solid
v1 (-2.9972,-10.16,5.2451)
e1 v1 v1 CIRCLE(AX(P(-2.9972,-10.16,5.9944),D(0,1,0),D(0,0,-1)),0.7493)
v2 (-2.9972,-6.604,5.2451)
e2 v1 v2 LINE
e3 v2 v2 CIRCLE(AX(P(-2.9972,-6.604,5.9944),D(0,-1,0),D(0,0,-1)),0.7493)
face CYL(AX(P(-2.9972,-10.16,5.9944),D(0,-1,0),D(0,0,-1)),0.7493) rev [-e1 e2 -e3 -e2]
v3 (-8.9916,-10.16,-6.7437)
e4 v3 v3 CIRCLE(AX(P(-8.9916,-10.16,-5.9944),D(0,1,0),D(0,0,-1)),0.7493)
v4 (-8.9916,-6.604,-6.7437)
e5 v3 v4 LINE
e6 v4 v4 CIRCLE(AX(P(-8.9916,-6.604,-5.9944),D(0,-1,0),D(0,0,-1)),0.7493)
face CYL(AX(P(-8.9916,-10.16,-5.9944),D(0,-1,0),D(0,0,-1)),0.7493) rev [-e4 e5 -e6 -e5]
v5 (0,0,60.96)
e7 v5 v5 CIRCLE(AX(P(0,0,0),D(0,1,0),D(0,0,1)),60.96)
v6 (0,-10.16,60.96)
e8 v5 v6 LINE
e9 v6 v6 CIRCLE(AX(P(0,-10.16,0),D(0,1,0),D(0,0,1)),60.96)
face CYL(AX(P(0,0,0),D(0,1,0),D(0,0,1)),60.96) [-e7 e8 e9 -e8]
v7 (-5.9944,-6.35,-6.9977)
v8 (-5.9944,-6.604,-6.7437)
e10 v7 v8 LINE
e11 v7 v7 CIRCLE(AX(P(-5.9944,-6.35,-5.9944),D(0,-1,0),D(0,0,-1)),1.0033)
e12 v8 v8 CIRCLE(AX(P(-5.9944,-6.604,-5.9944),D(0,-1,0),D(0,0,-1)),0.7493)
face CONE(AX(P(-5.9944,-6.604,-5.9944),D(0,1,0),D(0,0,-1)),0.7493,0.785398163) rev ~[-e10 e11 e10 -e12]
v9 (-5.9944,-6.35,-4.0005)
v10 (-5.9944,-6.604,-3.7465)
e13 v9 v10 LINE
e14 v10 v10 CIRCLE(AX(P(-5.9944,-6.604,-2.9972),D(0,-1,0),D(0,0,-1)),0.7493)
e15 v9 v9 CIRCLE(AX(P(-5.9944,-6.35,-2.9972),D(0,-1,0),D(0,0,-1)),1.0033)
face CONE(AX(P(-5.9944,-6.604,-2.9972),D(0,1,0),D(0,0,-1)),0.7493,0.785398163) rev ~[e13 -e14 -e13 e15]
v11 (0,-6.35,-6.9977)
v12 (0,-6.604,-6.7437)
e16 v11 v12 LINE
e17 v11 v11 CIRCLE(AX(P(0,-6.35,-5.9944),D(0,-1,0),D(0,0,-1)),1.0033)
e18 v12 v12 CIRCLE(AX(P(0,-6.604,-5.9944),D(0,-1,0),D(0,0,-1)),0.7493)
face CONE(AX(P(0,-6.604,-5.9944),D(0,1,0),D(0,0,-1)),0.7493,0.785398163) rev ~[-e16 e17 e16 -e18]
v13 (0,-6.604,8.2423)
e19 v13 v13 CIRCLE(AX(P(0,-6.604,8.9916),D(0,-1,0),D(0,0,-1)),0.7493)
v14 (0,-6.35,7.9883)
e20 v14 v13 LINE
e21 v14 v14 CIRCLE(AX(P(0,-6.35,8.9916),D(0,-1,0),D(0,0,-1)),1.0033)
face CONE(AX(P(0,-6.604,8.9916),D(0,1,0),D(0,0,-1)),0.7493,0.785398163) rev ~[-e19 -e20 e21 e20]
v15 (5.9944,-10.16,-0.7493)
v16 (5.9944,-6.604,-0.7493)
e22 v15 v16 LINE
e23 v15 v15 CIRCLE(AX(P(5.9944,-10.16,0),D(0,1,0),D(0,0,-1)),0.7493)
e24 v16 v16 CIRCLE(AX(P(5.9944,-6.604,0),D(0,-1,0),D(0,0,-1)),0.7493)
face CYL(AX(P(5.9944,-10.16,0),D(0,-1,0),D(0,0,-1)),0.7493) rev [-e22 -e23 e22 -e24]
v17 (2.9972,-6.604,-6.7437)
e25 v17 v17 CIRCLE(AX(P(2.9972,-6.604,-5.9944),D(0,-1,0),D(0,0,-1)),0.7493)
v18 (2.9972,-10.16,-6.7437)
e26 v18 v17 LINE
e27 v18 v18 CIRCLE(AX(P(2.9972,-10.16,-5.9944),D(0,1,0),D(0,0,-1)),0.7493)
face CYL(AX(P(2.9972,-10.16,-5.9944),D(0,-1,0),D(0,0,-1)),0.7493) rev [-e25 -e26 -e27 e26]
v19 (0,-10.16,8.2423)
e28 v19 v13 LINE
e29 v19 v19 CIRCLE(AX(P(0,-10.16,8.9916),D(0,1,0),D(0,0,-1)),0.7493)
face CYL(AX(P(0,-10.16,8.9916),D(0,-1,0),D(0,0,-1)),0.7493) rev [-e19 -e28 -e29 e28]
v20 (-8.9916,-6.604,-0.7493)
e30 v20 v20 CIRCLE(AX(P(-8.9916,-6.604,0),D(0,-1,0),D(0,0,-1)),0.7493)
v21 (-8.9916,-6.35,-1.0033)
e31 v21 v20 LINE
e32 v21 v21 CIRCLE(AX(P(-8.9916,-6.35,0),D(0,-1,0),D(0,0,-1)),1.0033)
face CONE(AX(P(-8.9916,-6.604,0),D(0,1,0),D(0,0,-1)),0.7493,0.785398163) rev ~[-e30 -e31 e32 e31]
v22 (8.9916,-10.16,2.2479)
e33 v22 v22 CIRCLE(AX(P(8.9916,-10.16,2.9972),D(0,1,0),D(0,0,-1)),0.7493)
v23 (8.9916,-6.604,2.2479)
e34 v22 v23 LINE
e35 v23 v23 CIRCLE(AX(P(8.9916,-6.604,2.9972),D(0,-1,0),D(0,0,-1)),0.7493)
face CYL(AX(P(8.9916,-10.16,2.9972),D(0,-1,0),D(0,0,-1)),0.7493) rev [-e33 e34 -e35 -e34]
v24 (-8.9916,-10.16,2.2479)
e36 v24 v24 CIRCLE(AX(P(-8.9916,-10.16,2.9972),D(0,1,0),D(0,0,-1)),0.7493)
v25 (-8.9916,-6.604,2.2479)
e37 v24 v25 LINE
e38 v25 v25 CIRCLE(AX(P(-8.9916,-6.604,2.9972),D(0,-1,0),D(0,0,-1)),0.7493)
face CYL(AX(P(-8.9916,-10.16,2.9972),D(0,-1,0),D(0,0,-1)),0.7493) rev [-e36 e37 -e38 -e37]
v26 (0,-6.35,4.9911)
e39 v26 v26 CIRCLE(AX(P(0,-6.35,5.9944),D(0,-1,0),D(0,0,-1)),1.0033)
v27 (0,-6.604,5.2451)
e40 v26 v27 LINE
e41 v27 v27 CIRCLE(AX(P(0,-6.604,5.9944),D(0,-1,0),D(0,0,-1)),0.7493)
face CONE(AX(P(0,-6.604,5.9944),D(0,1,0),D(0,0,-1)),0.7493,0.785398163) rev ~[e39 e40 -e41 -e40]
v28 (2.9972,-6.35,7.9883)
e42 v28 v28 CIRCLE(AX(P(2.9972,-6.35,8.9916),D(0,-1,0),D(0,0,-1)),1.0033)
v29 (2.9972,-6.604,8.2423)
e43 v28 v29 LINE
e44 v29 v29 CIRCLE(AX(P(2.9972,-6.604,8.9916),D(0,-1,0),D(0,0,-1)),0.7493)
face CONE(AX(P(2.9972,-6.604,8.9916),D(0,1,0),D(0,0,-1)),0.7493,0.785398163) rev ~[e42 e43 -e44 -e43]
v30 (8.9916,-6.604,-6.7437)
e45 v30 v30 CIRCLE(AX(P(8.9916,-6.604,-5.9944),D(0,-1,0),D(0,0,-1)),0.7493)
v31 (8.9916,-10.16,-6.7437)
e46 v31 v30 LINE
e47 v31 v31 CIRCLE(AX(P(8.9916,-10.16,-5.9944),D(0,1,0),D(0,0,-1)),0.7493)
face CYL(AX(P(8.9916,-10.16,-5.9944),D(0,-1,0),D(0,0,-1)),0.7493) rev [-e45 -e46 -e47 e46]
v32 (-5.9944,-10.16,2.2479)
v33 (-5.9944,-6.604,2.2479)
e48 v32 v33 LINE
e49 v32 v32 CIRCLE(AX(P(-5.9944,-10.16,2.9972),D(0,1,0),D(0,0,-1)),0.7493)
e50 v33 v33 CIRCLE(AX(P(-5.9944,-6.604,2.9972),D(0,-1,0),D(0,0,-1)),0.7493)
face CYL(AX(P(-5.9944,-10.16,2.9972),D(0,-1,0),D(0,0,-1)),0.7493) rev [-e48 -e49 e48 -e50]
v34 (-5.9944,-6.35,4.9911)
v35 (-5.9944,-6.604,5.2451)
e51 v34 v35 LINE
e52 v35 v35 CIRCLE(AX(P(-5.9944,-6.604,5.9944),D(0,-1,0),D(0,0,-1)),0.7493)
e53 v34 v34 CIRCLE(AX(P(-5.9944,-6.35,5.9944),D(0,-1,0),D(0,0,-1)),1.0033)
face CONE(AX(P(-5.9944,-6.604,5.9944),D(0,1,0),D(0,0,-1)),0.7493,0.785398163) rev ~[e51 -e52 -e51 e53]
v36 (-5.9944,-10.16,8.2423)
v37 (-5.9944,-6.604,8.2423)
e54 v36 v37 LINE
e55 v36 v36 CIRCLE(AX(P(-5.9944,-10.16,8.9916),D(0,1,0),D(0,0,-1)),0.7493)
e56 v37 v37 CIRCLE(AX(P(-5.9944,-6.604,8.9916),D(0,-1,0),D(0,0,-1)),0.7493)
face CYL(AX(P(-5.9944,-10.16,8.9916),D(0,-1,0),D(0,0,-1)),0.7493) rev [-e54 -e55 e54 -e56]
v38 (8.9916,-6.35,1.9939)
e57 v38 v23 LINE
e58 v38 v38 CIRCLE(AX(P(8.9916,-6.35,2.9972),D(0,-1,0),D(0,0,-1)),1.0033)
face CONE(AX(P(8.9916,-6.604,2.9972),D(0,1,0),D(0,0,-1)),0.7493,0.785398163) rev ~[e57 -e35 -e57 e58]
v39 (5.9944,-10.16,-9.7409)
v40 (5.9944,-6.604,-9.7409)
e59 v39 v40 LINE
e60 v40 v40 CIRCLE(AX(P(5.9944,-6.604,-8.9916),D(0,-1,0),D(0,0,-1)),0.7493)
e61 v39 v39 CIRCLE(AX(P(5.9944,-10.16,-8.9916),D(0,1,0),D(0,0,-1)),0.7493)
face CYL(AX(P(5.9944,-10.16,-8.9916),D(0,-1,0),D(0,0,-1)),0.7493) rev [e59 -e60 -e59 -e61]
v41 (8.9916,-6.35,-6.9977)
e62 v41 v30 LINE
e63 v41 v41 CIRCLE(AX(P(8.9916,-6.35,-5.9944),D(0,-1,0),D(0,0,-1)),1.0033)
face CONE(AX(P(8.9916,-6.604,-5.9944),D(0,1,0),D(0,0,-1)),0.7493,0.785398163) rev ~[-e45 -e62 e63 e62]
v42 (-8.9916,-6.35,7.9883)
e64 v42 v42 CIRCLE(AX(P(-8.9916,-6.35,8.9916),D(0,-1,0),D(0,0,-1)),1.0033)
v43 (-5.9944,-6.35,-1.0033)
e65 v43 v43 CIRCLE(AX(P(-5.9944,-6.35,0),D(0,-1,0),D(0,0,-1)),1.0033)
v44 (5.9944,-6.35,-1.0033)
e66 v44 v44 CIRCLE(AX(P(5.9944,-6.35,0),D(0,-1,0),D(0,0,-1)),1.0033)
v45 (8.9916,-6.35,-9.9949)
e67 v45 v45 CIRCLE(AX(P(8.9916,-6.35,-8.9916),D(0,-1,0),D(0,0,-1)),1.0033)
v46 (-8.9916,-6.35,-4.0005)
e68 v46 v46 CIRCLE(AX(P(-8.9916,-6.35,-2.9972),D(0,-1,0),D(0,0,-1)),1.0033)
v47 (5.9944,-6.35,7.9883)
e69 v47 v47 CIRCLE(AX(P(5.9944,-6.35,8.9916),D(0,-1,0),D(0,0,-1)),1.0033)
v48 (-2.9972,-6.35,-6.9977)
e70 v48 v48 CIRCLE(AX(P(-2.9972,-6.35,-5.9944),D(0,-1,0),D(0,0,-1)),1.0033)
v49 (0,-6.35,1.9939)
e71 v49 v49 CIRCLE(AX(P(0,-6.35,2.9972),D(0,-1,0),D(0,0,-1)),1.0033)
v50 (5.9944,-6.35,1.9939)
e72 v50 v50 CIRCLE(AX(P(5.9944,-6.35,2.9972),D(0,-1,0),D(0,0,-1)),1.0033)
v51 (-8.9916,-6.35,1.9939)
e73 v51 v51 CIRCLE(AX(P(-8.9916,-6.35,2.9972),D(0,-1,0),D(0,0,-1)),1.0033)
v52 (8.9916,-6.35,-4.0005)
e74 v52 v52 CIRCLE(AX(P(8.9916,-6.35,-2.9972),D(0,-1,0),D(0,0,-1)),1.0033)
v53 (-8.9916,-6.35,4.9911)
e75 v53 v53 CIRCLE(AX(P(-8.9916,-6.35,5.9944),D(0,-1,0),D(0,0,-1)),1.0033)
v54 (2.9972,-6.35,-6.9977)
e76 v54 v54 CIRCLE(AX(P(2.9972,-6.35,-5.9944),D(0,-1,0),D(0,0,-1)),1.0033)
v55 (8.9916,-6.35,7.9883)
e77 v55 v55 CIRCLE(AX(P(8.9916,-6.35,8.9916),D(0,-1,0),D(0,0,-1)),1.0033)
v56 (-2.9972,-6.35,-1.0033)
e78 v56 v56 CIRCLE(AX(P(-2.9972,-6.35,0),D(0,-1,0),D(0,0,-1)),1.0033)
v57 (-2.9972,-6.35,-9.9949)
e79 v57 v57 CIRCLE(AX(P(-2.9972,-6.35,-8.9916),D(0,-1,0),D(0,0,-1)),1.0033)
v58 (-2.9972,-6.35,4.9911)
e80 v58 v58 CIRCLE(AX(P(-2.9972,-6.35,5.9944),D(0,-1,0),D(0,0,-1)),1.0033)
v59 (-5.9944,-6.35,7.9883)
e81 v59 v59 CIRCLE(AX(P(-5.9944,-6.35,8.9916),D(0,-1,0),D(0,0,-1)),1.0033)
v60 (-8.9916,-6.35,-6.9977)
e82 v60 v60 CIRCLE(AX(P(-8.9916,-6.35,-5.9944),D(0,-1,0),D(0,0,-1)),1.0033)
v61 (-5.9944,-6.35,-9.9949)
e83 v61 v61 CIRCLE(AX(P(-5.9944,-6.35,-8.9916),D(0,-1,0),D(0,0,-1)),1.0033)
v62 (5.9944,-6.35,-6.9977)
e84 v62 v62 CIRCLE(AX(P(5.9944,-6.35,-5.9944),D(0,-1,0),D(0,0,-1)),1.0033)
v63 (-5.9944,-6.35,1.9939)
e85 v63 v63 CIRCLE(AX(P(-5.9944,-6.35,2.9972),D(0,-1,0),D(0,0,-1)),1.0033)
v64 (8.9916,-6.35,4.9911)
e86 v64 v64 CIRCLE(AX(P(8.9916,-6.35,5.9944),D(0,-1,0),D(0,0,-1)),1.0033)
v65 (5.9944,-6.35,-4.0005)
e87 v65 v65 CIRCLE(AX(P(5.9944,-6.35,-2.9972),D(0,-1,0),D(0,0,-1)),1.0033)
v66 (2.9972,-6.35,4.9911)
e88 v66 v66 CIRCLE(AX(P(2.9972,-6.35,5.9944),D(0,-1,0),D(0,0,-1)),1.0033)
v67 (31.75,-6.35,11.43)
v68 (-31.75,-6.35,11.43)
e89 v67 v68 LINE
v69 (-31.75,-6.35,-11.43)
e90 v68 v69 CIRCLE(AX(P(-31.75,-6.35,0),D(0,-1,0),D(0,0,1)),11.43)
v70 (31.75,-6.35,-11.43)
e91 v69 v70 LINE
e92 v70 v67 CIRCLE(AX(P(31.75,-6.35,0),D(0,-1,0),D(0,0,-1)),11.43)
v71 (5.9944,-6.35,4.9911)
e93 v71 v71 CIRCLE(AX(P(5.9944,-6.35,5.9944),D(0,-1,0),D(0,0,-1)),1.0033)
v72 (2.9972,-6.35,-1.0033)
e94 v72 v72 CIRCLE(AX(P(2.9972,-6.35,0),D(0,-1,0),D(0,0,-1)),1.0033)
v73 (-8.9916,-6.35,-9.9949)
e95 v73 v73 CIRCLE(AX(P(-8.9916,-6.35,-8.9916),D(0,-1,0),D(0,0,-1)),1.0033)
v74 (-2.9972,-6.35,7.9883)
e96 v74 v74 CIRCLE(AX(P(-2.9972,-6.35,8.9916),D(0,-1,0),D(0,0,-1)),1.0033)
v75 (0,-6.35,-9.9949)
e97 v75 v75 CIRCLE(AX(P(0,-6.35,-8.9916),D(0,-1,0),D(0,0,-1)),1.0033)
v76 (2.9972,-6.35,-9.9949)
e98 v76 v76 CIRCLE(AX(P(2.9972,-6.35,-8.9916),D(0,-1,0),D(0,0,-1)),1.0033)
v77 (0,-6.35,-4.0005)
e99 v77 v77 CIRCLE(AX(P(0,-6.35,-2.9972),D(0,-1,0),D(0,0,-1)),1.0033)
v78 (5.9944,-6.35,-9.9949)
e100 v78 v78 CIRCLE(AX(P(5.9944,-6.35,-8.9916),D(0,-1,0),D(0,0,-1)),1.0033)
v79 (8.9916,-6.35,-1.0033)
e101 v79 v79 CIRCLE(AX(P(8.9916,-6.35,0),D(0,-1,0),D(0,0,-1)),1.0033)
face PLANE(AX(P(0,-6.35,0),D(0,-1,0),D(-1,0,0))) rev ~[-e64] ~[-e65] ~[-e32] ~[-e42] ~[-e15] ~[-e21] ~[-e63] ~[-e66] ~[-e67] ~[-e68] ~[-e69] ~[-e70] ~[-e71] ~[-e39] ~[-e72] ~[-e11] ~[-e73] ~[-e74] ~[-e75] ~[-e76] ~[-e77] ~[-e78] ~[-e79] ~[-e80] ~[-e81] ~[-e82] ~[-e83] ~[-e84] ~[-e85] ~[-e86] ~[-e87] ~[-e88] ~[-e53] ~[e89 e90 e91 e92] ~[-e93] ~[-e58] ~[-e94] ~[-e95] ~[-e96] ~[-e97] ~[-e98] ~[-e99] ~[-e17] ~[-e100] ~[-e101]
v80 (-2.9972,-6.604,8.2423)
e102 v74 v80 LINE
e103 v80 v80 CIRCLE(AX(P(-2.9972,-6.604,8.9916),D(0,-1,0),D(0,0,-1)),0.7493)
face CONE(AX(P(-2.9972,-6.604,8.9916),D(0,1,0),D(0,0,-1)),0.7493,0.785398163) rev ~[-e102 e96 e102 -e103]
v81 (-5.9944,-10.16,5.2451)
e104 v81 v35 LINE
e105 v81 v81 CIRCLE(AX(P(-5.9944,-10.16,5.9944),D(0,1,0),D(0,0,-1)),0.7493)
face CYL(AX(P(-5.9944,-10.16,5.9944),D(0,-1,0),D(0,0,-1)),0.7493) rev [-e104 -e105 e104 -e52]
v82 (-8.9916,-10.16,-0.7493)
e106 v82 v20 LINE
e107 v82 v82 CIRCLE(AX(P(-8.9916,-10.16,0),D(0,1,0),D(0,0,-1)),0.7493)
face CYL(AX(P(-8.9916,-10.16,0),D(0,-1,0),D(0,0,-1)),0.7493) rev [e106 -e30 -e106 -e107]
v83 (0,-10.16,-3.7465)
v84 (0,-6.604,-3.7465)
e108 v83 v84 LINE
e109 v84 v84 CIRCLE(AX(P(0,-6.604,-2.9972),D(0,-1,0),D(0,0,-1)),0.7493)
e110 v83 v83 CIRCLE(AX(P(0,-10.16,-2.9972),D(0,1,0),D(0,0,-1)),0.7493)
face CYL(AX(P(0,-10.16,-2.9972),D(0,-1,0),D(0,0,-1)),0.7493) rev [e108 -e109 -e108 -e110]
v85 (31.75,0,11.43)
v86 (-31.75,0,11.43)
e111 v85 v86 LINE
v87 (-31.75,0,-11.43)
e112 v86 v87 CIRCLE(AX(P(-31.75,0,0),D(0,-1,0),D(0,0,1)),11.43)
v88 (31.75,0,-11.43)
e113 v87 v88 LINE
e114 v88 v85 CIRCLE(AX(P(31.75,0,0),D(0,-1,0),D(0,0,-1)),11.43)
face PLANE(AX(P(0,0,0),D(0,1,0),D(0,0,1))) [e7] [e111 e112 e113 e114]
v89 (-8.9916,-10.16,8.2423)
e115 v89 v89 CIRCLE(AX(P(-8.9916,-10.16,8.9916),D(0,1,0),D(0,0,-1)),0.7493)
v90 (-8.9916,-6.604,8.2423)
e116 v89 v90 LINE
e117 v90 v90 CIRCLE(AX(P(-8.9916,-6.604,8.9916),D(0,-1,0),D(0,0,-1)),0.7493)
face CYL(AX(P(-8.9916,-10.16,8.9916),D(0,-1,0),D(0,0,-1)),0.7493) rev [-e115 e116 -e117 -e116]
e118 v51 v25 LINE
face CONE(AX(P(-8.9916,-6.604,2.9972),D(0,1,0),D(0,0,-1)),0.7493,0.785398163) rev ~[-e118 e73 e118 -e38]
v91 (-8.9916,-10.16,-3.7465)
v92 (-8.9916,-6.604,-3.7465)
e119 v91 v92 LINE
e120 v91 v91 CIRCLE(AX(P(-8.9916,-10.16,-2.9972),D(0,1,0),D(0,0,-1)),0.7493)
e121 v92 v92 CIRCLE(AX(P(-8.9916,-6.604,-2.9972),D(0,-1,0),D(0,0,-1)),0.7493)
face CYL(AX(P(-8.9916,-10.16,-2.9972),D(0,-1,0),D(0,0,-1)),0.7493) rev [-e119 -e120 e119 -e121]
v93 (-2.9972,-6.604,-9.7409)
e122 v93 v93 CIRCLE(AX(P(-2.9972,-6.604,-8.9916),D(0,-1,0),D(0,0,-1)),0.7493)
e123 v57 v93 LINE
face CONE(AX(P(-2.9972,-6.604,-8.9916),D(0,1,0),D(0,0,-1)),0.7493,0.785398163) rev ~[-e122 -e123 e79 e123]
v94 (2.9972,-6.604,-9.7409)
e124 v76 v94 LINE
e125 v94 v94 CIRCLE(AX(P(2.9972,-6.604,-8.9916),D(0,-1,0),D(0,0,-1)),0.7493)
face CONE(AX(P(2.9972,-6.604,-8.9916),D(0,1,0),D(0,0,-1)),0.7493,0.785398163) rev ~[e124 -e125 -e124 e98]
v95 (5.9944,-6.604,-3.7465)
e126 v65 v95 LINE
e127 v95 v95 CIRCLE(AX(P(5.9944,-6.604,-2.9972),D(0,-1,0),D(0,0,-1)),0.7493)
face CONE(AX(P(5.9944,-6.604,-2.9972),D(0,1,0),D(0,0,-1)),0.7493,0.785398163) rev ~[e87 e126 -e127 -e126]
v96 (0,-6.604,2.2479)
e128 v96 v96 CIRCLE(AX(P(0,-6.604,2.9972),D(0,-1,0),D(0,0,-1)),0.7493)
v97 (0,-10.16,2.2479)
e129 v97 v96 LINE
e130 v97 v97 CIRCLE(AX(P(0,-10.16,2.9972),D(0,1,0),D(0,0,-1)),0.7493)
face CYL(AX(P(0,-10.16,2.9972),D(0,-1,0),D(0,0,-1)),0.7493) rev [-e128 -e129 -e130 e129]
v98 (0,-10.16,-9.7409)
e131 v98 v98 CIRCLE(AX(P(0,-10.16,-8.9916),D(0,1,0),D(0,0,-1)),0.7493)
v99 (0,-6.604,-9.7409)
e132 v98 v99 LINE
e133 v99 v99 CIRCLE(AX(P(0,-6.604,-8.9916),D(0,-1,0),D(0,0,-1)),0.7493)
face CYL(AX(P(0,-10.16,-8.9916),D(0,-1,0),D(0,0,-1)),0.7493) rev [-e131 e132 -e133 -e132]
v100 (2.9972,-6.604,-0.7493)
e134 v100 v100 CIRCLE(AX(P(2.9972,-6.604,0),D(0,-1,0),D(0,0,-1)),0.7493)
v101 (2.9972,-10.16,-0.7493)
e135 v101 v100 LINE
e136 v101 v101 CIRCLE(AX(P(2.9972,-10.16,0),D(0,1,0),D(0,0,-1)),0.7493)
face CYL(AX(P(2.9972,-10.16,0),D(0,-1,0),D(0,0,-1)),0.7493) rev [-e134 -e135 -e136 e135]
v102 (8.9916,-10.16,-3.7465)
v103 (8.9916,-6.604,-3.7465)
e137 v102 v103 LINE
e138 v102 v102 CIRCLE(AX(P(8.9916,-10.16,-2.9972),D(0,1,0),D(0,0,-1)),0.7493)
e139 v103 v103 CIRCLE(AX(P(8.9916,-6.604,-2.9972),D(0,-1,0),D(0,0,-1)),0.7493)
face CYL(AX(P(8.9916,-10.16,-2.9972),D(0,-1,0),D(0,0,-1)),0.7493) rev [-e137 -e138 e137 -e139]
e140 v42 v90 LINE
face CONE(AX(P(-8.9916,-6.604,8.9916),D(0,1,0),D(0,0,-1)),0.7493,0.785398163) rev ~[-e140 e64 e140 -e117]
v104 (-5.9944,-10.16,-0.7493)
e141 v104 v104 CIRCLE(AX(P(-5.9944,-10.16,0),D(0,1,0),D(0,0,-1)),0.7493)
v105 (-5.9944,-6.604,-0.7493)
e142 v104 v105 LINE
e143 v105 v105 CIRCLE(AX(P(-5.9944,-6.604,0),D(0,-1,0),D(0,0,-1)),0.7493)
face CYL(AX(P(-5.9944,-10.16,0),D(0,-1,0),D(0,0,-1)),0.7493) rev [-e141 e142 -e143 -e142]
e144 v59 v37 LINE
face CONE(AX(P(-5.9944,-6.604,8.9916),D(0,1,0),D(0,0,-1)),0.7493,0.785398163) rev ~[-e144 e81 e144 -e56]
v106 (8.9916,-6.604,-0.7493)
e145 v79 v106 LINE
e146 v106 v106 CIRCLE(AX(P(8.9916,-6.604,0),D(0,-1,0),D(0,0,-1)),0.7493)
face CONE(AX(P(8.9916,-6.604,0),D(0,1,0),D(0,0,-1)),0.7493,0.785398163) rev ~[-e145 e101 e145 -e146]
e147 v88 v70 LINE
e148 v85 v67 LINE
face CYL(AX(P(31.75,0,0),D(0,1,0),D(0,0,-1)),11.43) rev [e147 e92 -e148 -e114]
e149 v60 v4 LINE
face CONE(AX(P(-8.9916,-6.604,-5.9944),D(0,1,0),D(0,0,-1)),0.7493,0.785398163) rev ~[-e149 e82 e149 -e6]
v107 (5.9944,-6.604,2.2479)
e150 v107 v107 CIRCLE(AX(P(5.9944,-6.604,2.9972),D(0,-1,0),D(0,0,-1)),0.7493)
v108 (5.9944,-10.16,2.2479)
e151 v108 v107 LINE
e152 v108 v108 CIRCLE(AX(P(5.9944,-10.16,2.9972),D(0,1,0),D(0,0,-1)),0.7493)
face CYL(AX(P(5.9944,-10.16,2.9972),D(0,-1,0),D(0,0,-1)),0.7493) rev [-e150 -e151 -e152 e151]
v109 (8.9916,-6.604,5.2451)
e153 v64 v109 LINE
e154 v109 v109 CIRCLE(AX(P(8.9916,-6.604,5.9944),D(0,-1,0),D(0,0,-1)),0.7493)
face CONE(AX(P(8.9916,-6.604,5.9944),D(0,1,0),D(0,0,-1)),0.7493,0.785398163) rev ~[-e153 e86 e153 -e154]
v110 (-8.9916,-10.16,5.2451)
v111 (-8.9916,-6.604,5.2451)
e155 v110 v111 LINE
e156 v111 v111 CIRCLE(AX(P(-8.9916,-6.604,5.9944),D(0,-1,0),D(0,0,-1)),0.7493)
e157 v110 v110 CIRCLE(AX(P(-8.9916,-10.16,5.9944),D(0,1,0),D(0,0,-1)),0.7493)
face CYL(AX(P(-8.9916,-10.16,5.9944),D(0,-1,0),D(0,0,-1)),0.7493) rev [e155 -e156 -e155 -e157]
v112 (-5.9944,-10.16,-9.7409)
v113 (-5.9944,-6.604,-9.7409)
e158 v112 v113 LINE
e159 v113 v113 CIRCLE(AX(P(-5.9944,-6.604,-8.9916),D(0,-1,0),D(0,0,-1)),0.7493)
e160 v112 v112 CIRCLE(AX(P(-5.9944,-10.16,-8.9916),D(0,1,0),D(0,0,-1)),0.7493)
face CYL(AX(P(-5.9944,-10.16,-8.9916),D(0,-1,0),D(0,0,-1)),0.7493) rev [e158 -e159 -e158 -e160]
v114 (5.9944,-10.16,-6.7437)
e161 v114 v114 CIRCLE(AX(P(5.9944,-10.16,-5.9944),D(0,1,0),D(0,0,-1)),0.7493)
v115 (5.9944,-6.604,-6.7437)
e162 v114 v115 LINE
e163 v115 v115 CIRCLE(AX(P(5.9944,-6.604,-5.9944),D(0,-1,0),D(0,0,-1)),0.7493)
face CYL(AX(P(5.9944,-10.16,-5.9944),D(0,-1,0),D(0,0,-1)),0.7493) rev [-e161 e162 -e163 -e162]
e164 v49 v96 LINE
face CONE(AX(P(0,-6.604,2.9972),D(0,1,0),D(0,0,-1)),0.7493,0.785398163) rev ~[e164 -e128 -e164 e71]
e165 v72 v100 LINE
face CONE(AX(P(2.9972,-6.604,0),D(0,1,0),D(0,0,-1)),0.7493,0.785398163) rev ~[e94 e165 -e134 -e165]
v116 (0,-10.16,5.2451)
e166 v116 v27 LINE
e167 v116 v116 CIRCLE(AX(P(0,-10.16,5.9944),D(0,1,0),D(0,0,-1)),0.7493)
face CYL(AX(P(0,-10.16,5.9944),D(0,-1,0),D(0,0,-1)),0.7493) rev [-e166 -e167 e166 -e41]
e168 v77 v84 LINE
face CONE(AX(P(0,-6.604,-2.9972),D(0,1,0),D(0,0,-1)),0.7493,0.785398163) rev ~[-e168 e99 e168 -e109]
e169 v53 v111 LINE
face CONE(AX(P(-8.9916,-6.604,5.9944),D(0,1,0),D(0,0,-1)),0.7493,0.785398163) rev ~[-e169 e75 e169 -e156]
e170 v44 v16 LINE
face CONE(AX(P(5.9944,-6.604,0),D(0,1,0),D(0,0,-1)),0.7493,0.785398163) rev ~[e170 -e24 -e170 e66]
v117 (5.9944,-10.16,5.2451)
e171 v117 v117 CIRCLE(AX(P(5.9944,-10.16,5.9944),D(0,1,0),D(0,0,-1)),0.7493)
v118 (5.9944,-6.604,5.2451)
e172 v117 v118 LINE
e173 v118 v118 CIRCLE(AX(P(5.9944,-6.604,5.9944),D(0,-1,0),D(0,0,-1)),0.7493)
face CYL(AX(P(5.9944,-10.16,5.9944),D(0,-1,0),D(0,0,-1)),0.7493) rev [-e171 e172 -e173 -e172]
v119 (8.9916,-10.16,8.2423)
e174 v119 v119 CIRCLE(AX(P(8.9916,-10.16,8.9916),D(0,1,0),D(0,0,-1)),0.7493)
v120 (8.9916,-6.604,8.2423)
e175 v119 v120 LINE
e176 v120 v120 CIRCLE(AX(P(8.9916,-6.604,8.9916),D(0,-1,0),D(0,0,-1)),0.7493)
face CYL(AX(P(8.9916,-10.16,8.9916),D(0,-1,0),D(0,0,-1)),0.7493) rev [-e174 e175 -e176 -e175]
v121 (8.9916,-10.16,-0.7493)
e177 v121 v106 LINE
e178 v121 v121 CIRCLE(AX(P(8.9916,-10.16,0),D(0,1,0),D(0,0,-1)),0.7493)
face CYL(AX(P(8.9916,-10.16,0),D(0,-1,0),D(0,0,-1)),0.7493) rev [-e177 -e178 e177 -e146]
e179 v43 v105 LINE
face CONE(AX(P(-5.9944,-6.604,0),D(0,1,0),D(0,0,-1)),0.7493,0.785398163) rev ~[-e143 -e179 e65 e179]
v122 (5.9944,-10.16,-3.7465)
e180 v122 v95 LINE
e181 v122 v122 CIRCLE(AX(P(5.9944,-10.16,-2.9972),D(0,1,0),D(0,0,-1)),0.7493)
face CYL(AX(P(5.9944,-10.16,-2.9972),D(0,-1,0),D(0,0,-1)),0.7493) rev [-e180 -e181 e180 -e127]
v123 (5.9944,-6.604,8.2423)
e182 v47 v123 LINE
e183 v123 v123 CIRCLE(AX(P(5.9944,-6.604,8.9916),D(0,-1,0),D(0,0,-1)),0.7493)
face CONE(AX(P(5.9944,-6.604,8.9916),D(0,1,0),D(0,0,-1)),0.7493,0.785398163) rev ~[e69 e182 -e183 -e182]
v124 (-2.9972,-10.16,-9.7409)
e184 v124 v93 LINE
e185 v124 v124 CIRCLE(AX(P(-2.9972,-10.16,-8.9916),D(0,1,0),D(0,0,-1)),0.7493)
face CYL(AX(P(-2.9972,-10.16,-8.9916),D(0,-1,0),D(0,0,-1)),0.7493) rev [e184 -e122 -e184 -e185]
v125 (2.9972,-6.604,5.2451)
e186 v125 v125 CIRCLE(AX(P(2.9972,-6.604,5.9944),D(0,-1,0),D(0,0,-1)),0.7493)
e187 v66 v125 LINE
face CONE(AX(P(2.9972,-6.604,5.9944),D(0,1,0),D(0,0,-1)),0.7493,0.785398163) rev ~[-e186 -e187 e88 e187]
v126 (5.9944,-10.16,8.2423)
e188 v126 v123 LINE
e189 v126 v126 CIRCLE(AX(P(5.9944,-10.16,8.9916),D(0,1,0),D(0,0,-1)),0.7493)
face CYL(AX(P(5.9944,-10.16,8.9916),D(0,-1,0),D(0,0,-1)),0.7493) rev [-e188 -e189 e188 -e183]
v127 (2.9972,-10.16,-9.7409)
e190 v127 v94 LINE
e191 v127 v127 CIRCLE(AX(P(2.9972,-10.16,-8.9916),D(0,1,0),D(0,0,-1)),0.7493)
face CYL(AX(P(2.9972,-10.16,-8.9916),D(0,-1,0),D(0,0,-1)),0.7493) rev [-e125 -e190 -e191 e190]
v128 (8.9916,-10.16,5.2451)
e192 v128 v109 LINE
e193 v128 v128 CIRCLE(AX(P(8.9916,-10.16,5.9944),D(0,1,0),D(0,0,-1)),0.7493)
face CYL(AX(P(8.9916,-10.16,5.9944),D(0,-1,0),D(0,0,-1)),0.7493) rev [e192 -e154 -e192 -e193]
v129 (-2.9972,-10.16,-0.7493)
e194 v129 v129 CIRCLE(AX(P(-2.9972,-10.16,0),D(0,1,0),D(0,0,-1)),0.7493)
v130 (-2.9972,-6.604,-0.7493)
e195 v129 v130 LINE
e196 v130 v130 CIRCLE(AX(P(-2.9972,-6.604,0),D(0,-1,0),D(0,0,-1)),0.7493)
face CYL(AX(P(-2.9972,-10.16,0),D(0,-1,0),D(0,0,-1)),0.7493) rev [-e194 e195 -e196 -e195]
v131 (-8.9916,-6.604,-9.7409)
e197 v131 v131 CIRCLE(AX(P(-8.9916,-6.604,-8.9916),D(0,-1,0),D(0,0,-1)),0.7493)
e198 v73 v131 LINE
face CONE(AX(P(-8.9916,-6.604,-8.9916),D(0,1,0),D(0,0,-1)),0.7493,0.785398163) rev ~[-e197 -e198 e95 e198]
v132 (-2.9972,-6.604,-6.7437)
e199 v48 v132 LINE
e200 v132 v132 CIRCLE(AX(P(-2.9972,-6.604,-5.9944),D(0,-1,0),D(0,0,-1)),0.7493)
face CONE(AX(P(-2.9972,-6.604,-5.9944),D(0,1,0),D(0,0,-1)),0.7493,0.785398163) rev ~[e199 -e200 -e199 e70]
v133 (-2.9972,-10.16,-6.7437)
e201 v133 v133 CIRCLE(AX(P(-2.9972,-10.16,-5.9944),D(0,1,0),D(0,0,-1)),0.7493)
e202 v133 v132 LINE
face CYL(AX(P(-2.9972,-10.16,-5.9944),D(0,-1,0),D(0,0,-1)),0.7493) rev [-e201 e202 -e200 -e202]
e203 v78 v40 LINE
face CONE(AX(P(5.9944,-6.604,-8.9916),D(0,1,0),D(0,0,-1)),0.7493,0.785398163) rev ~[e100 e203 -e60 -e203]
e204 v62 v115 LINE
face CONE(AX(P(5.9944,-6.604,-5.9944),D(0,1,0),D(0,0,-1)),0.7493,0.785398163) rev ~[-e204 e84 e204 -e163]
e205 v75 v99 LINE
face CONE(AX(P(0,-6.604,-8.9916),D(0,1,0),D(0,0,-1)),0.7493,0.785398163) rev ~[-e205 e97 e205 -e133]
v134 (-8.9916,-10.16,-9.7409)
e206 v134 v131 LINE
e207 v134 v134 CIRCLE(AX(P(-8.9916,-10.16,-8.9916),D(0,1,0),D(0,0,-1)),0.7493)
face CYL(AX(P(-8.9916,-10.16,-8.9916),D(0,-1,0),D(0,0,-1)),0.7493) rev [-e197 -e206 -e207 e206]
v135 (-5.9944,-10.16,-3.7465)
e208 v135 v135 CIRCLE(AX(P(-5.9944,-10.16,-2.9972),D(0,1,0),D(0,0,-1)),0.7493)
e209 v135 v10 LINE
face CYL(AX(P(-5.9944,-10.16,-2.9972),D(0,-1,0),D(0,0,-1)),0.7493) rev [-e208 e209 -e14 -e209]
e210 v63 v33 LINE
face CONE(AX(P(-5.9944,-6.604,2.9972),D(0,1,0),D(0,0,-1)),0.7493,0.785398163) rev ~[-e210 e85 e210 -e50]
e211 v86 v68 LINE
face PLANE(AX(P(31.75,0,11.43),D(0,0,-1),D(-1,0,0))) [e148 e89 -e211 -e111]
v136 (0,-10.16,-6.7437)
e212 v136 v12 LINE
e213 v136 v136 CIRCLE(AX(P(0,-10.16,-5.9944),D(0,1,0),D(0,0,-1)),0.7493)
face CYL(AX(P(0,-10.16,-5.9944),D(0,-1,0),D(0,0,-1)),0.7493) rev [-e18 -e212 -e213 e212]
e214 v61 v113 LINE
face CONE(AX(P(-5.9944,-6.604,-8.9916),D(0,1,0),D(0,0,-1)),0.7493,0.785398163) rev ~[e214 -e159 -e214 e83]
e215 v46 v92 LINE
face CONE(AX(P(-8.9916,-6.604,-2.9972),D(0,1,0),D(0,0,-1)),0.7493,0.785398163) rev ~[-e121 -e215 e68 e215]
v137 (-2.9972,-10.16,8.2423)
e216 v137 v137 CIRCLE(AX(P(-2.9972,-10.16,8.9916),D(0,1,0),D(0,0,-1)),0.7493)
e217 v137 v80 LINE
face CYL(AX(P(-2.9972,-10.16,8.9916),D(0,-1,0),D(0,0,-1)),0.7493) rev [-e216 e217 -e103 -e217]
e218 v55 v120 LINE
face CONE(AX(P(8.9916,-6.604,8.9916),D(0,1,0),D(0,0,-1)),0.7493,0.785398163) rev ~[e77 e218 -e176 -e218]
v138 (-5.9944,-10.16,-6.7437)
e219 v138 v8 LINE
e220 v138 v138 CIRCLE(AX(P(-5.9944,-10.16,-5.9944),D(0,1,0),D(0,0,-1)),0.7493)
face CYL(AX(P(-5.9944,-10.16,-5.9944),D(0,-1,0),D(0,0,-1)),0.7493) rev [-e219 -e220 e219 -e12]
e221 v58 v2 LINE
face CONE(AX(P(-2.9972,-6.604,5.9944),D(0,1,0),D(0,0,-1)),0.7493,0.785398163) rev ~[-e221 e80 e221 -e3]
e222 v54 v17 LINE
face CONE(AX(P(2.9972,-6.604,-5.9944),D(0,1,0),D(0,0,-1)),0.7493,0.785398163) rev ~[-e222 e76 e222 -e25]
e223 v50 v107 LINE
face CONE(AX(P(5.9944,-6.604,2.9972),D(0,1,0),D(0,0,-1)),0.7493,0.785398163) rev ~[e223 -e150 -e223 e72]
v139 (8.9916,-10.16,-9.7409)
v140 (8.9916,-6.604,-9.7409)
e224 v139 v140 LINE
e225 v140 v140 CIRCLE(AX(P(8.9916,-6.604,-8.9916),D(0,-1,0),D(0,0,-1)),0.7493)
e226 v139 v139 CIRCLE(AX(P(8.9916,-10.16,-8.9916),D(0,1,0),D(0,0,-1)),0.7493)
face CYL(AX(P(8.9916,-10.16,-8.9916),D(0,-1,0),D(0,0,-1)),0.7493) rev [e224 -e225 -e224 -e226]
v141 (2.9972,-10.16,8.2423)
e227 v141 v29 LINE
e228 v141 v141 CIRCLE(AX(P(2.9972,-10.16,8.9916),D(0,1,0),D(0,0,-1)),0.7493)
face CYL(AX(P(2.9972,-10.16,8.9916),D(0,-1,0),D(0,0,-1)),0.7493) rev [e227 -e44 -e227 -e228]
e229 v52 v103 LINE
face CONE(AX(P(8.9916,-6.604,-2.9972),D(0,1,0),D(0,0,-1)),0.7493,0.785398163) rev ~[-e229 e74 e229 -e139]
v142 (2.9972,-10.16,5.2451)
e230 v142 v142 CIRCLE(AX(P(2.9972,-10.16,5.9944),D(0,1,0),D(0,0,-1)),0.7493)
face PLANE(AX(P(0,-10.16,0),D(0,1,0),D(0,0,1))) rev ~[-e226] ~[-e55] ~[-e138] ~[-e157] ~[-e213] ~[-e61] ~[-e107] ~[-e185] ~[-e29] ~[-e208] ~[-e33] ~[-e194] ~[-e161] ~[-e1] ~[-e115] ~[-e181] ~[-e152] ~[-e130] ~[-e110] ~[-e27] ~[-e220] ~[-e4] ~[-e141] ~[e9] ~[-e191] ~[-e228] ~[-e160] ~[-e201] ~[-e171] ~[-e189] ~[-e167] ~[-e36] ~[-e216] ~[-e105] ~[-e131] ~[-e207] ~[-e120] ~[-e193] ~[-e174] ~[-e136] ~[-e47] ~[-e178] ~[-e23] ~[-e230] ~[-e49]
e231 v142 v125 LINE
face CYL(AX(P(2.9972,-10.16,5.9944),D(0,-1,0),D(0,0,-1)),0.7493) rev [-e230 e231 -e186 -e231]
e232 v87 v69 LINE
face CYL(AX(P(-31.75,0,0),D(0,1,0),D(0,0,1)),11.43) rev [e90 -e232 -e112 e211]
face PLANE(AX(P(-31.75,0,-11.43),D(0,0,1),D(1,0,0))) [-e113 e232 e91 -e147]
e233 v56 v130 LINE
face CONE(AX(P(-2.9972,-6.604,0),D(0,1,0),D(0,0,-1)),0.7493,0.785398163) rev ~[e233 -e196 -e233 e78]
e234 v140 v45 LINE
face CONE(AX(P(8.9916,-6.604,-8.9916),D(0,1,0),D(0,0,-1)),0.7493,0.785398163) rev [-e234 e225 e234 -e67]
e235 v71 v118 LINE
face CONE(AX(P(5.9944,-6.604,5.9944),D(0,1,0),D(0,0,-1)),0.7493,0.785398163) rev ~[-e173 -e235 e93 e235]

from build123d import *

# Parameters (mm, degrees)
SKETCH1_R                               = 60.96
BILLET_DEPTH                            = 10.16
KEROSENE_WELL_DEPTH                     = 6.35
FIRST_KEROSENE_OUTLET_REACH             = 88.807
SKETCH4_R                               = 0.7493
BOTTOM_NEEDLE_CHAMFER_SIZE              = 0.254
LPATTERN1_COUNT                         = 7
LPATTERN1_PITCH                         = 2.9972
LPATTERN1_COUNT_DIR2                    = 7
LPATTERN1_PITCH_DIR2                    = 2.9972
BOTTOM_NEEDLE_CHAMFER_OF_LPATTERN1_SIZE = 0.254


with BuildPart() as part:
    # Sketch1 → Billet (new body)
    with BuildSketch(Plane(origin=(0, 0, 0), x_dir=(1, 0, 0), z_dir=(0, 1, 0))):
        Circle(SKETCH1_R)
    extrude(amount=-BILLET_DEPTH)

    # Sketch2 → Kerosene Well (cut)
    with BuildSketch(Plane(origin=(0, 0, 0), x_dir=(1, 0, 0), z_dir=(0, 1, 0))):
        with BuildLine():
            Line((-31.75, 11.43), (31.75, 11.43))
            ThreePointArc((31.75, 11.43), (43.18, 0), (31.75, -11.43))
            Line((31.75, -11.43), (-31.75, -11.43))
            ThreePointArc((-31.75, -11.43), (-43.18, 0), (-31.75, 11.43))
        make_face()
    extrude(amount=-KEROSENE_WELL_DEPTH, mode=Mode.SUBTRACT)

    # Sketch4 → First Kerosene Outlet (cut, up to next)
    with BuildSketch(Plane(origin=(0, -10.16, 0), x_dir=(1, 0, 0), z_dir=(0, 1, 0)), mode=Mode.PRIVATE) as first_kerosene_outlet_sk1:
        with Locations((8.9916, 8.9916)):
            Circle(SKETCH4_R)
    first_kerosene_outlet_tool1 = extrude(first_kerosene_outlet_sk1.sketch, amount=FIRST_KEROSENE_OUTLET_REACH, mode=Mode.PRIVATE) & part.part
    first_kerosene_outlet = first_kerosene_outlet_tool1.solids().sort_by_distance((8.9916, -10.16, -8.9916))[0]
    add(first_kerosene_outlet, mode=Mode.SUBTRACT)

    # Bottom Needle Chamfer
    bottom_needle_chamfer_edges = [part.edges().sort_by_distance(p)[0] for p in [
        (8.2423, -6.35, -8.9916),
    ]]
    chamfer(bottom_needle_chamfer_edges, length=BOTTOM_NEEDLE_CHAMFER_SIZE)

    # LPattern1: First Kerosene Outlet 7 × 7, 5 skipped
    with Locations(*[(-j * LPATTERN1_PITCH_DIR2, 0, i * LPATTERN1_PITCH) for i in range(LPATTERN1_COUNT) for j in range(LPATTERN1_COUNT_DIR2) if (i, j) not in ((0, 0), (2, 2), (2, 4), (3, 3), (4, 2), (4, 4))]):
        add(first_kerosene_outlet, mode=Mode.SUBTRACT)

    # Bottom Needle Chamfer of LPattern1
    bottom_needle_chamfer_of_lpattern1_edges = [part.edges().sort_by_distance(p)[0] for p in [
        (5.2451, -6.35, -8.9916),
        (2.2479, -6.35, -8.9916),
        (-0.7493, -6.35, -8.9916),
        (-3.7465, -6.35, -8.9916),
        (-6.7437, -6.35, -8.9916),
        (-9.7409, -6.35, -8.9916),
        (8.2423, -6.35, -5.9944),
        (5.2451, -6.35, -5.9944),
        (2.2479, -6.35, -5.9944),
        (-0.7493, -6.35, -5.9944),
        (-3.7465, -6.35, -5.9944),
        (-6.7437, -6.35, -5.9944),
        (-9.7409, -6.35, -5.9944),
        (8.2423, -6.35, -2.9972),
        (5.2451, -6.35, -2.9972),
        (-0.7493, -6.35, -2.9972),
        (-6.7437, -6.35, -2.9972),
        (-9.7409, -6.35, -2.9972),
        (8.2423, -6.35, 0),
        (5.2451, -6.35, 0),
        (2.2479, -6.35, 0),
        (-3.7465, -6.35, 0),
        (-6.7437, -6.35, 0),
        (-9.7409, -6.35, 0),
        (8.2423, -6.35, 2.9972),
        (5.2451, -6.35, 2.9972),
        (-0.7493, -6.35, 2.9972),
        (-6.7437, -6.35, 2.9972),
        (-9.7409, -6.35, 2.9972),
        (8.2423, -6.35, 5.9944),
        (5.2451, -6.35, 5.9944),
        (2.2479, -6.35, 5.9944),
        (-0.7493, -6.35, 5.9944),
        (-3.7465, -6.35, 5.9944),
        (-6.7437, -6.35, 5.9944),
        (-9.7409, -6.35, 5.9944),
        (8.2423, -6.35, 8.9916),
        (5.2451, -6.35, 8.9916),
        (2.2479, -6.35, 8.9916),
        (-0.7493, -6.35, 8.9916),
        (-3.7465, -6.35, 8.9916),
        (-6.7437, -6.35, 8.9916),
        (-9.7409, -6.35, 8.9916),
    ]]
    chamfer(bottom_needle_chamfer_of_lpattern1_edges, length=BOTTOM_NEEDLE_CHAMFER_OF_LPATTERN1_SIZE)


solid = part.part
